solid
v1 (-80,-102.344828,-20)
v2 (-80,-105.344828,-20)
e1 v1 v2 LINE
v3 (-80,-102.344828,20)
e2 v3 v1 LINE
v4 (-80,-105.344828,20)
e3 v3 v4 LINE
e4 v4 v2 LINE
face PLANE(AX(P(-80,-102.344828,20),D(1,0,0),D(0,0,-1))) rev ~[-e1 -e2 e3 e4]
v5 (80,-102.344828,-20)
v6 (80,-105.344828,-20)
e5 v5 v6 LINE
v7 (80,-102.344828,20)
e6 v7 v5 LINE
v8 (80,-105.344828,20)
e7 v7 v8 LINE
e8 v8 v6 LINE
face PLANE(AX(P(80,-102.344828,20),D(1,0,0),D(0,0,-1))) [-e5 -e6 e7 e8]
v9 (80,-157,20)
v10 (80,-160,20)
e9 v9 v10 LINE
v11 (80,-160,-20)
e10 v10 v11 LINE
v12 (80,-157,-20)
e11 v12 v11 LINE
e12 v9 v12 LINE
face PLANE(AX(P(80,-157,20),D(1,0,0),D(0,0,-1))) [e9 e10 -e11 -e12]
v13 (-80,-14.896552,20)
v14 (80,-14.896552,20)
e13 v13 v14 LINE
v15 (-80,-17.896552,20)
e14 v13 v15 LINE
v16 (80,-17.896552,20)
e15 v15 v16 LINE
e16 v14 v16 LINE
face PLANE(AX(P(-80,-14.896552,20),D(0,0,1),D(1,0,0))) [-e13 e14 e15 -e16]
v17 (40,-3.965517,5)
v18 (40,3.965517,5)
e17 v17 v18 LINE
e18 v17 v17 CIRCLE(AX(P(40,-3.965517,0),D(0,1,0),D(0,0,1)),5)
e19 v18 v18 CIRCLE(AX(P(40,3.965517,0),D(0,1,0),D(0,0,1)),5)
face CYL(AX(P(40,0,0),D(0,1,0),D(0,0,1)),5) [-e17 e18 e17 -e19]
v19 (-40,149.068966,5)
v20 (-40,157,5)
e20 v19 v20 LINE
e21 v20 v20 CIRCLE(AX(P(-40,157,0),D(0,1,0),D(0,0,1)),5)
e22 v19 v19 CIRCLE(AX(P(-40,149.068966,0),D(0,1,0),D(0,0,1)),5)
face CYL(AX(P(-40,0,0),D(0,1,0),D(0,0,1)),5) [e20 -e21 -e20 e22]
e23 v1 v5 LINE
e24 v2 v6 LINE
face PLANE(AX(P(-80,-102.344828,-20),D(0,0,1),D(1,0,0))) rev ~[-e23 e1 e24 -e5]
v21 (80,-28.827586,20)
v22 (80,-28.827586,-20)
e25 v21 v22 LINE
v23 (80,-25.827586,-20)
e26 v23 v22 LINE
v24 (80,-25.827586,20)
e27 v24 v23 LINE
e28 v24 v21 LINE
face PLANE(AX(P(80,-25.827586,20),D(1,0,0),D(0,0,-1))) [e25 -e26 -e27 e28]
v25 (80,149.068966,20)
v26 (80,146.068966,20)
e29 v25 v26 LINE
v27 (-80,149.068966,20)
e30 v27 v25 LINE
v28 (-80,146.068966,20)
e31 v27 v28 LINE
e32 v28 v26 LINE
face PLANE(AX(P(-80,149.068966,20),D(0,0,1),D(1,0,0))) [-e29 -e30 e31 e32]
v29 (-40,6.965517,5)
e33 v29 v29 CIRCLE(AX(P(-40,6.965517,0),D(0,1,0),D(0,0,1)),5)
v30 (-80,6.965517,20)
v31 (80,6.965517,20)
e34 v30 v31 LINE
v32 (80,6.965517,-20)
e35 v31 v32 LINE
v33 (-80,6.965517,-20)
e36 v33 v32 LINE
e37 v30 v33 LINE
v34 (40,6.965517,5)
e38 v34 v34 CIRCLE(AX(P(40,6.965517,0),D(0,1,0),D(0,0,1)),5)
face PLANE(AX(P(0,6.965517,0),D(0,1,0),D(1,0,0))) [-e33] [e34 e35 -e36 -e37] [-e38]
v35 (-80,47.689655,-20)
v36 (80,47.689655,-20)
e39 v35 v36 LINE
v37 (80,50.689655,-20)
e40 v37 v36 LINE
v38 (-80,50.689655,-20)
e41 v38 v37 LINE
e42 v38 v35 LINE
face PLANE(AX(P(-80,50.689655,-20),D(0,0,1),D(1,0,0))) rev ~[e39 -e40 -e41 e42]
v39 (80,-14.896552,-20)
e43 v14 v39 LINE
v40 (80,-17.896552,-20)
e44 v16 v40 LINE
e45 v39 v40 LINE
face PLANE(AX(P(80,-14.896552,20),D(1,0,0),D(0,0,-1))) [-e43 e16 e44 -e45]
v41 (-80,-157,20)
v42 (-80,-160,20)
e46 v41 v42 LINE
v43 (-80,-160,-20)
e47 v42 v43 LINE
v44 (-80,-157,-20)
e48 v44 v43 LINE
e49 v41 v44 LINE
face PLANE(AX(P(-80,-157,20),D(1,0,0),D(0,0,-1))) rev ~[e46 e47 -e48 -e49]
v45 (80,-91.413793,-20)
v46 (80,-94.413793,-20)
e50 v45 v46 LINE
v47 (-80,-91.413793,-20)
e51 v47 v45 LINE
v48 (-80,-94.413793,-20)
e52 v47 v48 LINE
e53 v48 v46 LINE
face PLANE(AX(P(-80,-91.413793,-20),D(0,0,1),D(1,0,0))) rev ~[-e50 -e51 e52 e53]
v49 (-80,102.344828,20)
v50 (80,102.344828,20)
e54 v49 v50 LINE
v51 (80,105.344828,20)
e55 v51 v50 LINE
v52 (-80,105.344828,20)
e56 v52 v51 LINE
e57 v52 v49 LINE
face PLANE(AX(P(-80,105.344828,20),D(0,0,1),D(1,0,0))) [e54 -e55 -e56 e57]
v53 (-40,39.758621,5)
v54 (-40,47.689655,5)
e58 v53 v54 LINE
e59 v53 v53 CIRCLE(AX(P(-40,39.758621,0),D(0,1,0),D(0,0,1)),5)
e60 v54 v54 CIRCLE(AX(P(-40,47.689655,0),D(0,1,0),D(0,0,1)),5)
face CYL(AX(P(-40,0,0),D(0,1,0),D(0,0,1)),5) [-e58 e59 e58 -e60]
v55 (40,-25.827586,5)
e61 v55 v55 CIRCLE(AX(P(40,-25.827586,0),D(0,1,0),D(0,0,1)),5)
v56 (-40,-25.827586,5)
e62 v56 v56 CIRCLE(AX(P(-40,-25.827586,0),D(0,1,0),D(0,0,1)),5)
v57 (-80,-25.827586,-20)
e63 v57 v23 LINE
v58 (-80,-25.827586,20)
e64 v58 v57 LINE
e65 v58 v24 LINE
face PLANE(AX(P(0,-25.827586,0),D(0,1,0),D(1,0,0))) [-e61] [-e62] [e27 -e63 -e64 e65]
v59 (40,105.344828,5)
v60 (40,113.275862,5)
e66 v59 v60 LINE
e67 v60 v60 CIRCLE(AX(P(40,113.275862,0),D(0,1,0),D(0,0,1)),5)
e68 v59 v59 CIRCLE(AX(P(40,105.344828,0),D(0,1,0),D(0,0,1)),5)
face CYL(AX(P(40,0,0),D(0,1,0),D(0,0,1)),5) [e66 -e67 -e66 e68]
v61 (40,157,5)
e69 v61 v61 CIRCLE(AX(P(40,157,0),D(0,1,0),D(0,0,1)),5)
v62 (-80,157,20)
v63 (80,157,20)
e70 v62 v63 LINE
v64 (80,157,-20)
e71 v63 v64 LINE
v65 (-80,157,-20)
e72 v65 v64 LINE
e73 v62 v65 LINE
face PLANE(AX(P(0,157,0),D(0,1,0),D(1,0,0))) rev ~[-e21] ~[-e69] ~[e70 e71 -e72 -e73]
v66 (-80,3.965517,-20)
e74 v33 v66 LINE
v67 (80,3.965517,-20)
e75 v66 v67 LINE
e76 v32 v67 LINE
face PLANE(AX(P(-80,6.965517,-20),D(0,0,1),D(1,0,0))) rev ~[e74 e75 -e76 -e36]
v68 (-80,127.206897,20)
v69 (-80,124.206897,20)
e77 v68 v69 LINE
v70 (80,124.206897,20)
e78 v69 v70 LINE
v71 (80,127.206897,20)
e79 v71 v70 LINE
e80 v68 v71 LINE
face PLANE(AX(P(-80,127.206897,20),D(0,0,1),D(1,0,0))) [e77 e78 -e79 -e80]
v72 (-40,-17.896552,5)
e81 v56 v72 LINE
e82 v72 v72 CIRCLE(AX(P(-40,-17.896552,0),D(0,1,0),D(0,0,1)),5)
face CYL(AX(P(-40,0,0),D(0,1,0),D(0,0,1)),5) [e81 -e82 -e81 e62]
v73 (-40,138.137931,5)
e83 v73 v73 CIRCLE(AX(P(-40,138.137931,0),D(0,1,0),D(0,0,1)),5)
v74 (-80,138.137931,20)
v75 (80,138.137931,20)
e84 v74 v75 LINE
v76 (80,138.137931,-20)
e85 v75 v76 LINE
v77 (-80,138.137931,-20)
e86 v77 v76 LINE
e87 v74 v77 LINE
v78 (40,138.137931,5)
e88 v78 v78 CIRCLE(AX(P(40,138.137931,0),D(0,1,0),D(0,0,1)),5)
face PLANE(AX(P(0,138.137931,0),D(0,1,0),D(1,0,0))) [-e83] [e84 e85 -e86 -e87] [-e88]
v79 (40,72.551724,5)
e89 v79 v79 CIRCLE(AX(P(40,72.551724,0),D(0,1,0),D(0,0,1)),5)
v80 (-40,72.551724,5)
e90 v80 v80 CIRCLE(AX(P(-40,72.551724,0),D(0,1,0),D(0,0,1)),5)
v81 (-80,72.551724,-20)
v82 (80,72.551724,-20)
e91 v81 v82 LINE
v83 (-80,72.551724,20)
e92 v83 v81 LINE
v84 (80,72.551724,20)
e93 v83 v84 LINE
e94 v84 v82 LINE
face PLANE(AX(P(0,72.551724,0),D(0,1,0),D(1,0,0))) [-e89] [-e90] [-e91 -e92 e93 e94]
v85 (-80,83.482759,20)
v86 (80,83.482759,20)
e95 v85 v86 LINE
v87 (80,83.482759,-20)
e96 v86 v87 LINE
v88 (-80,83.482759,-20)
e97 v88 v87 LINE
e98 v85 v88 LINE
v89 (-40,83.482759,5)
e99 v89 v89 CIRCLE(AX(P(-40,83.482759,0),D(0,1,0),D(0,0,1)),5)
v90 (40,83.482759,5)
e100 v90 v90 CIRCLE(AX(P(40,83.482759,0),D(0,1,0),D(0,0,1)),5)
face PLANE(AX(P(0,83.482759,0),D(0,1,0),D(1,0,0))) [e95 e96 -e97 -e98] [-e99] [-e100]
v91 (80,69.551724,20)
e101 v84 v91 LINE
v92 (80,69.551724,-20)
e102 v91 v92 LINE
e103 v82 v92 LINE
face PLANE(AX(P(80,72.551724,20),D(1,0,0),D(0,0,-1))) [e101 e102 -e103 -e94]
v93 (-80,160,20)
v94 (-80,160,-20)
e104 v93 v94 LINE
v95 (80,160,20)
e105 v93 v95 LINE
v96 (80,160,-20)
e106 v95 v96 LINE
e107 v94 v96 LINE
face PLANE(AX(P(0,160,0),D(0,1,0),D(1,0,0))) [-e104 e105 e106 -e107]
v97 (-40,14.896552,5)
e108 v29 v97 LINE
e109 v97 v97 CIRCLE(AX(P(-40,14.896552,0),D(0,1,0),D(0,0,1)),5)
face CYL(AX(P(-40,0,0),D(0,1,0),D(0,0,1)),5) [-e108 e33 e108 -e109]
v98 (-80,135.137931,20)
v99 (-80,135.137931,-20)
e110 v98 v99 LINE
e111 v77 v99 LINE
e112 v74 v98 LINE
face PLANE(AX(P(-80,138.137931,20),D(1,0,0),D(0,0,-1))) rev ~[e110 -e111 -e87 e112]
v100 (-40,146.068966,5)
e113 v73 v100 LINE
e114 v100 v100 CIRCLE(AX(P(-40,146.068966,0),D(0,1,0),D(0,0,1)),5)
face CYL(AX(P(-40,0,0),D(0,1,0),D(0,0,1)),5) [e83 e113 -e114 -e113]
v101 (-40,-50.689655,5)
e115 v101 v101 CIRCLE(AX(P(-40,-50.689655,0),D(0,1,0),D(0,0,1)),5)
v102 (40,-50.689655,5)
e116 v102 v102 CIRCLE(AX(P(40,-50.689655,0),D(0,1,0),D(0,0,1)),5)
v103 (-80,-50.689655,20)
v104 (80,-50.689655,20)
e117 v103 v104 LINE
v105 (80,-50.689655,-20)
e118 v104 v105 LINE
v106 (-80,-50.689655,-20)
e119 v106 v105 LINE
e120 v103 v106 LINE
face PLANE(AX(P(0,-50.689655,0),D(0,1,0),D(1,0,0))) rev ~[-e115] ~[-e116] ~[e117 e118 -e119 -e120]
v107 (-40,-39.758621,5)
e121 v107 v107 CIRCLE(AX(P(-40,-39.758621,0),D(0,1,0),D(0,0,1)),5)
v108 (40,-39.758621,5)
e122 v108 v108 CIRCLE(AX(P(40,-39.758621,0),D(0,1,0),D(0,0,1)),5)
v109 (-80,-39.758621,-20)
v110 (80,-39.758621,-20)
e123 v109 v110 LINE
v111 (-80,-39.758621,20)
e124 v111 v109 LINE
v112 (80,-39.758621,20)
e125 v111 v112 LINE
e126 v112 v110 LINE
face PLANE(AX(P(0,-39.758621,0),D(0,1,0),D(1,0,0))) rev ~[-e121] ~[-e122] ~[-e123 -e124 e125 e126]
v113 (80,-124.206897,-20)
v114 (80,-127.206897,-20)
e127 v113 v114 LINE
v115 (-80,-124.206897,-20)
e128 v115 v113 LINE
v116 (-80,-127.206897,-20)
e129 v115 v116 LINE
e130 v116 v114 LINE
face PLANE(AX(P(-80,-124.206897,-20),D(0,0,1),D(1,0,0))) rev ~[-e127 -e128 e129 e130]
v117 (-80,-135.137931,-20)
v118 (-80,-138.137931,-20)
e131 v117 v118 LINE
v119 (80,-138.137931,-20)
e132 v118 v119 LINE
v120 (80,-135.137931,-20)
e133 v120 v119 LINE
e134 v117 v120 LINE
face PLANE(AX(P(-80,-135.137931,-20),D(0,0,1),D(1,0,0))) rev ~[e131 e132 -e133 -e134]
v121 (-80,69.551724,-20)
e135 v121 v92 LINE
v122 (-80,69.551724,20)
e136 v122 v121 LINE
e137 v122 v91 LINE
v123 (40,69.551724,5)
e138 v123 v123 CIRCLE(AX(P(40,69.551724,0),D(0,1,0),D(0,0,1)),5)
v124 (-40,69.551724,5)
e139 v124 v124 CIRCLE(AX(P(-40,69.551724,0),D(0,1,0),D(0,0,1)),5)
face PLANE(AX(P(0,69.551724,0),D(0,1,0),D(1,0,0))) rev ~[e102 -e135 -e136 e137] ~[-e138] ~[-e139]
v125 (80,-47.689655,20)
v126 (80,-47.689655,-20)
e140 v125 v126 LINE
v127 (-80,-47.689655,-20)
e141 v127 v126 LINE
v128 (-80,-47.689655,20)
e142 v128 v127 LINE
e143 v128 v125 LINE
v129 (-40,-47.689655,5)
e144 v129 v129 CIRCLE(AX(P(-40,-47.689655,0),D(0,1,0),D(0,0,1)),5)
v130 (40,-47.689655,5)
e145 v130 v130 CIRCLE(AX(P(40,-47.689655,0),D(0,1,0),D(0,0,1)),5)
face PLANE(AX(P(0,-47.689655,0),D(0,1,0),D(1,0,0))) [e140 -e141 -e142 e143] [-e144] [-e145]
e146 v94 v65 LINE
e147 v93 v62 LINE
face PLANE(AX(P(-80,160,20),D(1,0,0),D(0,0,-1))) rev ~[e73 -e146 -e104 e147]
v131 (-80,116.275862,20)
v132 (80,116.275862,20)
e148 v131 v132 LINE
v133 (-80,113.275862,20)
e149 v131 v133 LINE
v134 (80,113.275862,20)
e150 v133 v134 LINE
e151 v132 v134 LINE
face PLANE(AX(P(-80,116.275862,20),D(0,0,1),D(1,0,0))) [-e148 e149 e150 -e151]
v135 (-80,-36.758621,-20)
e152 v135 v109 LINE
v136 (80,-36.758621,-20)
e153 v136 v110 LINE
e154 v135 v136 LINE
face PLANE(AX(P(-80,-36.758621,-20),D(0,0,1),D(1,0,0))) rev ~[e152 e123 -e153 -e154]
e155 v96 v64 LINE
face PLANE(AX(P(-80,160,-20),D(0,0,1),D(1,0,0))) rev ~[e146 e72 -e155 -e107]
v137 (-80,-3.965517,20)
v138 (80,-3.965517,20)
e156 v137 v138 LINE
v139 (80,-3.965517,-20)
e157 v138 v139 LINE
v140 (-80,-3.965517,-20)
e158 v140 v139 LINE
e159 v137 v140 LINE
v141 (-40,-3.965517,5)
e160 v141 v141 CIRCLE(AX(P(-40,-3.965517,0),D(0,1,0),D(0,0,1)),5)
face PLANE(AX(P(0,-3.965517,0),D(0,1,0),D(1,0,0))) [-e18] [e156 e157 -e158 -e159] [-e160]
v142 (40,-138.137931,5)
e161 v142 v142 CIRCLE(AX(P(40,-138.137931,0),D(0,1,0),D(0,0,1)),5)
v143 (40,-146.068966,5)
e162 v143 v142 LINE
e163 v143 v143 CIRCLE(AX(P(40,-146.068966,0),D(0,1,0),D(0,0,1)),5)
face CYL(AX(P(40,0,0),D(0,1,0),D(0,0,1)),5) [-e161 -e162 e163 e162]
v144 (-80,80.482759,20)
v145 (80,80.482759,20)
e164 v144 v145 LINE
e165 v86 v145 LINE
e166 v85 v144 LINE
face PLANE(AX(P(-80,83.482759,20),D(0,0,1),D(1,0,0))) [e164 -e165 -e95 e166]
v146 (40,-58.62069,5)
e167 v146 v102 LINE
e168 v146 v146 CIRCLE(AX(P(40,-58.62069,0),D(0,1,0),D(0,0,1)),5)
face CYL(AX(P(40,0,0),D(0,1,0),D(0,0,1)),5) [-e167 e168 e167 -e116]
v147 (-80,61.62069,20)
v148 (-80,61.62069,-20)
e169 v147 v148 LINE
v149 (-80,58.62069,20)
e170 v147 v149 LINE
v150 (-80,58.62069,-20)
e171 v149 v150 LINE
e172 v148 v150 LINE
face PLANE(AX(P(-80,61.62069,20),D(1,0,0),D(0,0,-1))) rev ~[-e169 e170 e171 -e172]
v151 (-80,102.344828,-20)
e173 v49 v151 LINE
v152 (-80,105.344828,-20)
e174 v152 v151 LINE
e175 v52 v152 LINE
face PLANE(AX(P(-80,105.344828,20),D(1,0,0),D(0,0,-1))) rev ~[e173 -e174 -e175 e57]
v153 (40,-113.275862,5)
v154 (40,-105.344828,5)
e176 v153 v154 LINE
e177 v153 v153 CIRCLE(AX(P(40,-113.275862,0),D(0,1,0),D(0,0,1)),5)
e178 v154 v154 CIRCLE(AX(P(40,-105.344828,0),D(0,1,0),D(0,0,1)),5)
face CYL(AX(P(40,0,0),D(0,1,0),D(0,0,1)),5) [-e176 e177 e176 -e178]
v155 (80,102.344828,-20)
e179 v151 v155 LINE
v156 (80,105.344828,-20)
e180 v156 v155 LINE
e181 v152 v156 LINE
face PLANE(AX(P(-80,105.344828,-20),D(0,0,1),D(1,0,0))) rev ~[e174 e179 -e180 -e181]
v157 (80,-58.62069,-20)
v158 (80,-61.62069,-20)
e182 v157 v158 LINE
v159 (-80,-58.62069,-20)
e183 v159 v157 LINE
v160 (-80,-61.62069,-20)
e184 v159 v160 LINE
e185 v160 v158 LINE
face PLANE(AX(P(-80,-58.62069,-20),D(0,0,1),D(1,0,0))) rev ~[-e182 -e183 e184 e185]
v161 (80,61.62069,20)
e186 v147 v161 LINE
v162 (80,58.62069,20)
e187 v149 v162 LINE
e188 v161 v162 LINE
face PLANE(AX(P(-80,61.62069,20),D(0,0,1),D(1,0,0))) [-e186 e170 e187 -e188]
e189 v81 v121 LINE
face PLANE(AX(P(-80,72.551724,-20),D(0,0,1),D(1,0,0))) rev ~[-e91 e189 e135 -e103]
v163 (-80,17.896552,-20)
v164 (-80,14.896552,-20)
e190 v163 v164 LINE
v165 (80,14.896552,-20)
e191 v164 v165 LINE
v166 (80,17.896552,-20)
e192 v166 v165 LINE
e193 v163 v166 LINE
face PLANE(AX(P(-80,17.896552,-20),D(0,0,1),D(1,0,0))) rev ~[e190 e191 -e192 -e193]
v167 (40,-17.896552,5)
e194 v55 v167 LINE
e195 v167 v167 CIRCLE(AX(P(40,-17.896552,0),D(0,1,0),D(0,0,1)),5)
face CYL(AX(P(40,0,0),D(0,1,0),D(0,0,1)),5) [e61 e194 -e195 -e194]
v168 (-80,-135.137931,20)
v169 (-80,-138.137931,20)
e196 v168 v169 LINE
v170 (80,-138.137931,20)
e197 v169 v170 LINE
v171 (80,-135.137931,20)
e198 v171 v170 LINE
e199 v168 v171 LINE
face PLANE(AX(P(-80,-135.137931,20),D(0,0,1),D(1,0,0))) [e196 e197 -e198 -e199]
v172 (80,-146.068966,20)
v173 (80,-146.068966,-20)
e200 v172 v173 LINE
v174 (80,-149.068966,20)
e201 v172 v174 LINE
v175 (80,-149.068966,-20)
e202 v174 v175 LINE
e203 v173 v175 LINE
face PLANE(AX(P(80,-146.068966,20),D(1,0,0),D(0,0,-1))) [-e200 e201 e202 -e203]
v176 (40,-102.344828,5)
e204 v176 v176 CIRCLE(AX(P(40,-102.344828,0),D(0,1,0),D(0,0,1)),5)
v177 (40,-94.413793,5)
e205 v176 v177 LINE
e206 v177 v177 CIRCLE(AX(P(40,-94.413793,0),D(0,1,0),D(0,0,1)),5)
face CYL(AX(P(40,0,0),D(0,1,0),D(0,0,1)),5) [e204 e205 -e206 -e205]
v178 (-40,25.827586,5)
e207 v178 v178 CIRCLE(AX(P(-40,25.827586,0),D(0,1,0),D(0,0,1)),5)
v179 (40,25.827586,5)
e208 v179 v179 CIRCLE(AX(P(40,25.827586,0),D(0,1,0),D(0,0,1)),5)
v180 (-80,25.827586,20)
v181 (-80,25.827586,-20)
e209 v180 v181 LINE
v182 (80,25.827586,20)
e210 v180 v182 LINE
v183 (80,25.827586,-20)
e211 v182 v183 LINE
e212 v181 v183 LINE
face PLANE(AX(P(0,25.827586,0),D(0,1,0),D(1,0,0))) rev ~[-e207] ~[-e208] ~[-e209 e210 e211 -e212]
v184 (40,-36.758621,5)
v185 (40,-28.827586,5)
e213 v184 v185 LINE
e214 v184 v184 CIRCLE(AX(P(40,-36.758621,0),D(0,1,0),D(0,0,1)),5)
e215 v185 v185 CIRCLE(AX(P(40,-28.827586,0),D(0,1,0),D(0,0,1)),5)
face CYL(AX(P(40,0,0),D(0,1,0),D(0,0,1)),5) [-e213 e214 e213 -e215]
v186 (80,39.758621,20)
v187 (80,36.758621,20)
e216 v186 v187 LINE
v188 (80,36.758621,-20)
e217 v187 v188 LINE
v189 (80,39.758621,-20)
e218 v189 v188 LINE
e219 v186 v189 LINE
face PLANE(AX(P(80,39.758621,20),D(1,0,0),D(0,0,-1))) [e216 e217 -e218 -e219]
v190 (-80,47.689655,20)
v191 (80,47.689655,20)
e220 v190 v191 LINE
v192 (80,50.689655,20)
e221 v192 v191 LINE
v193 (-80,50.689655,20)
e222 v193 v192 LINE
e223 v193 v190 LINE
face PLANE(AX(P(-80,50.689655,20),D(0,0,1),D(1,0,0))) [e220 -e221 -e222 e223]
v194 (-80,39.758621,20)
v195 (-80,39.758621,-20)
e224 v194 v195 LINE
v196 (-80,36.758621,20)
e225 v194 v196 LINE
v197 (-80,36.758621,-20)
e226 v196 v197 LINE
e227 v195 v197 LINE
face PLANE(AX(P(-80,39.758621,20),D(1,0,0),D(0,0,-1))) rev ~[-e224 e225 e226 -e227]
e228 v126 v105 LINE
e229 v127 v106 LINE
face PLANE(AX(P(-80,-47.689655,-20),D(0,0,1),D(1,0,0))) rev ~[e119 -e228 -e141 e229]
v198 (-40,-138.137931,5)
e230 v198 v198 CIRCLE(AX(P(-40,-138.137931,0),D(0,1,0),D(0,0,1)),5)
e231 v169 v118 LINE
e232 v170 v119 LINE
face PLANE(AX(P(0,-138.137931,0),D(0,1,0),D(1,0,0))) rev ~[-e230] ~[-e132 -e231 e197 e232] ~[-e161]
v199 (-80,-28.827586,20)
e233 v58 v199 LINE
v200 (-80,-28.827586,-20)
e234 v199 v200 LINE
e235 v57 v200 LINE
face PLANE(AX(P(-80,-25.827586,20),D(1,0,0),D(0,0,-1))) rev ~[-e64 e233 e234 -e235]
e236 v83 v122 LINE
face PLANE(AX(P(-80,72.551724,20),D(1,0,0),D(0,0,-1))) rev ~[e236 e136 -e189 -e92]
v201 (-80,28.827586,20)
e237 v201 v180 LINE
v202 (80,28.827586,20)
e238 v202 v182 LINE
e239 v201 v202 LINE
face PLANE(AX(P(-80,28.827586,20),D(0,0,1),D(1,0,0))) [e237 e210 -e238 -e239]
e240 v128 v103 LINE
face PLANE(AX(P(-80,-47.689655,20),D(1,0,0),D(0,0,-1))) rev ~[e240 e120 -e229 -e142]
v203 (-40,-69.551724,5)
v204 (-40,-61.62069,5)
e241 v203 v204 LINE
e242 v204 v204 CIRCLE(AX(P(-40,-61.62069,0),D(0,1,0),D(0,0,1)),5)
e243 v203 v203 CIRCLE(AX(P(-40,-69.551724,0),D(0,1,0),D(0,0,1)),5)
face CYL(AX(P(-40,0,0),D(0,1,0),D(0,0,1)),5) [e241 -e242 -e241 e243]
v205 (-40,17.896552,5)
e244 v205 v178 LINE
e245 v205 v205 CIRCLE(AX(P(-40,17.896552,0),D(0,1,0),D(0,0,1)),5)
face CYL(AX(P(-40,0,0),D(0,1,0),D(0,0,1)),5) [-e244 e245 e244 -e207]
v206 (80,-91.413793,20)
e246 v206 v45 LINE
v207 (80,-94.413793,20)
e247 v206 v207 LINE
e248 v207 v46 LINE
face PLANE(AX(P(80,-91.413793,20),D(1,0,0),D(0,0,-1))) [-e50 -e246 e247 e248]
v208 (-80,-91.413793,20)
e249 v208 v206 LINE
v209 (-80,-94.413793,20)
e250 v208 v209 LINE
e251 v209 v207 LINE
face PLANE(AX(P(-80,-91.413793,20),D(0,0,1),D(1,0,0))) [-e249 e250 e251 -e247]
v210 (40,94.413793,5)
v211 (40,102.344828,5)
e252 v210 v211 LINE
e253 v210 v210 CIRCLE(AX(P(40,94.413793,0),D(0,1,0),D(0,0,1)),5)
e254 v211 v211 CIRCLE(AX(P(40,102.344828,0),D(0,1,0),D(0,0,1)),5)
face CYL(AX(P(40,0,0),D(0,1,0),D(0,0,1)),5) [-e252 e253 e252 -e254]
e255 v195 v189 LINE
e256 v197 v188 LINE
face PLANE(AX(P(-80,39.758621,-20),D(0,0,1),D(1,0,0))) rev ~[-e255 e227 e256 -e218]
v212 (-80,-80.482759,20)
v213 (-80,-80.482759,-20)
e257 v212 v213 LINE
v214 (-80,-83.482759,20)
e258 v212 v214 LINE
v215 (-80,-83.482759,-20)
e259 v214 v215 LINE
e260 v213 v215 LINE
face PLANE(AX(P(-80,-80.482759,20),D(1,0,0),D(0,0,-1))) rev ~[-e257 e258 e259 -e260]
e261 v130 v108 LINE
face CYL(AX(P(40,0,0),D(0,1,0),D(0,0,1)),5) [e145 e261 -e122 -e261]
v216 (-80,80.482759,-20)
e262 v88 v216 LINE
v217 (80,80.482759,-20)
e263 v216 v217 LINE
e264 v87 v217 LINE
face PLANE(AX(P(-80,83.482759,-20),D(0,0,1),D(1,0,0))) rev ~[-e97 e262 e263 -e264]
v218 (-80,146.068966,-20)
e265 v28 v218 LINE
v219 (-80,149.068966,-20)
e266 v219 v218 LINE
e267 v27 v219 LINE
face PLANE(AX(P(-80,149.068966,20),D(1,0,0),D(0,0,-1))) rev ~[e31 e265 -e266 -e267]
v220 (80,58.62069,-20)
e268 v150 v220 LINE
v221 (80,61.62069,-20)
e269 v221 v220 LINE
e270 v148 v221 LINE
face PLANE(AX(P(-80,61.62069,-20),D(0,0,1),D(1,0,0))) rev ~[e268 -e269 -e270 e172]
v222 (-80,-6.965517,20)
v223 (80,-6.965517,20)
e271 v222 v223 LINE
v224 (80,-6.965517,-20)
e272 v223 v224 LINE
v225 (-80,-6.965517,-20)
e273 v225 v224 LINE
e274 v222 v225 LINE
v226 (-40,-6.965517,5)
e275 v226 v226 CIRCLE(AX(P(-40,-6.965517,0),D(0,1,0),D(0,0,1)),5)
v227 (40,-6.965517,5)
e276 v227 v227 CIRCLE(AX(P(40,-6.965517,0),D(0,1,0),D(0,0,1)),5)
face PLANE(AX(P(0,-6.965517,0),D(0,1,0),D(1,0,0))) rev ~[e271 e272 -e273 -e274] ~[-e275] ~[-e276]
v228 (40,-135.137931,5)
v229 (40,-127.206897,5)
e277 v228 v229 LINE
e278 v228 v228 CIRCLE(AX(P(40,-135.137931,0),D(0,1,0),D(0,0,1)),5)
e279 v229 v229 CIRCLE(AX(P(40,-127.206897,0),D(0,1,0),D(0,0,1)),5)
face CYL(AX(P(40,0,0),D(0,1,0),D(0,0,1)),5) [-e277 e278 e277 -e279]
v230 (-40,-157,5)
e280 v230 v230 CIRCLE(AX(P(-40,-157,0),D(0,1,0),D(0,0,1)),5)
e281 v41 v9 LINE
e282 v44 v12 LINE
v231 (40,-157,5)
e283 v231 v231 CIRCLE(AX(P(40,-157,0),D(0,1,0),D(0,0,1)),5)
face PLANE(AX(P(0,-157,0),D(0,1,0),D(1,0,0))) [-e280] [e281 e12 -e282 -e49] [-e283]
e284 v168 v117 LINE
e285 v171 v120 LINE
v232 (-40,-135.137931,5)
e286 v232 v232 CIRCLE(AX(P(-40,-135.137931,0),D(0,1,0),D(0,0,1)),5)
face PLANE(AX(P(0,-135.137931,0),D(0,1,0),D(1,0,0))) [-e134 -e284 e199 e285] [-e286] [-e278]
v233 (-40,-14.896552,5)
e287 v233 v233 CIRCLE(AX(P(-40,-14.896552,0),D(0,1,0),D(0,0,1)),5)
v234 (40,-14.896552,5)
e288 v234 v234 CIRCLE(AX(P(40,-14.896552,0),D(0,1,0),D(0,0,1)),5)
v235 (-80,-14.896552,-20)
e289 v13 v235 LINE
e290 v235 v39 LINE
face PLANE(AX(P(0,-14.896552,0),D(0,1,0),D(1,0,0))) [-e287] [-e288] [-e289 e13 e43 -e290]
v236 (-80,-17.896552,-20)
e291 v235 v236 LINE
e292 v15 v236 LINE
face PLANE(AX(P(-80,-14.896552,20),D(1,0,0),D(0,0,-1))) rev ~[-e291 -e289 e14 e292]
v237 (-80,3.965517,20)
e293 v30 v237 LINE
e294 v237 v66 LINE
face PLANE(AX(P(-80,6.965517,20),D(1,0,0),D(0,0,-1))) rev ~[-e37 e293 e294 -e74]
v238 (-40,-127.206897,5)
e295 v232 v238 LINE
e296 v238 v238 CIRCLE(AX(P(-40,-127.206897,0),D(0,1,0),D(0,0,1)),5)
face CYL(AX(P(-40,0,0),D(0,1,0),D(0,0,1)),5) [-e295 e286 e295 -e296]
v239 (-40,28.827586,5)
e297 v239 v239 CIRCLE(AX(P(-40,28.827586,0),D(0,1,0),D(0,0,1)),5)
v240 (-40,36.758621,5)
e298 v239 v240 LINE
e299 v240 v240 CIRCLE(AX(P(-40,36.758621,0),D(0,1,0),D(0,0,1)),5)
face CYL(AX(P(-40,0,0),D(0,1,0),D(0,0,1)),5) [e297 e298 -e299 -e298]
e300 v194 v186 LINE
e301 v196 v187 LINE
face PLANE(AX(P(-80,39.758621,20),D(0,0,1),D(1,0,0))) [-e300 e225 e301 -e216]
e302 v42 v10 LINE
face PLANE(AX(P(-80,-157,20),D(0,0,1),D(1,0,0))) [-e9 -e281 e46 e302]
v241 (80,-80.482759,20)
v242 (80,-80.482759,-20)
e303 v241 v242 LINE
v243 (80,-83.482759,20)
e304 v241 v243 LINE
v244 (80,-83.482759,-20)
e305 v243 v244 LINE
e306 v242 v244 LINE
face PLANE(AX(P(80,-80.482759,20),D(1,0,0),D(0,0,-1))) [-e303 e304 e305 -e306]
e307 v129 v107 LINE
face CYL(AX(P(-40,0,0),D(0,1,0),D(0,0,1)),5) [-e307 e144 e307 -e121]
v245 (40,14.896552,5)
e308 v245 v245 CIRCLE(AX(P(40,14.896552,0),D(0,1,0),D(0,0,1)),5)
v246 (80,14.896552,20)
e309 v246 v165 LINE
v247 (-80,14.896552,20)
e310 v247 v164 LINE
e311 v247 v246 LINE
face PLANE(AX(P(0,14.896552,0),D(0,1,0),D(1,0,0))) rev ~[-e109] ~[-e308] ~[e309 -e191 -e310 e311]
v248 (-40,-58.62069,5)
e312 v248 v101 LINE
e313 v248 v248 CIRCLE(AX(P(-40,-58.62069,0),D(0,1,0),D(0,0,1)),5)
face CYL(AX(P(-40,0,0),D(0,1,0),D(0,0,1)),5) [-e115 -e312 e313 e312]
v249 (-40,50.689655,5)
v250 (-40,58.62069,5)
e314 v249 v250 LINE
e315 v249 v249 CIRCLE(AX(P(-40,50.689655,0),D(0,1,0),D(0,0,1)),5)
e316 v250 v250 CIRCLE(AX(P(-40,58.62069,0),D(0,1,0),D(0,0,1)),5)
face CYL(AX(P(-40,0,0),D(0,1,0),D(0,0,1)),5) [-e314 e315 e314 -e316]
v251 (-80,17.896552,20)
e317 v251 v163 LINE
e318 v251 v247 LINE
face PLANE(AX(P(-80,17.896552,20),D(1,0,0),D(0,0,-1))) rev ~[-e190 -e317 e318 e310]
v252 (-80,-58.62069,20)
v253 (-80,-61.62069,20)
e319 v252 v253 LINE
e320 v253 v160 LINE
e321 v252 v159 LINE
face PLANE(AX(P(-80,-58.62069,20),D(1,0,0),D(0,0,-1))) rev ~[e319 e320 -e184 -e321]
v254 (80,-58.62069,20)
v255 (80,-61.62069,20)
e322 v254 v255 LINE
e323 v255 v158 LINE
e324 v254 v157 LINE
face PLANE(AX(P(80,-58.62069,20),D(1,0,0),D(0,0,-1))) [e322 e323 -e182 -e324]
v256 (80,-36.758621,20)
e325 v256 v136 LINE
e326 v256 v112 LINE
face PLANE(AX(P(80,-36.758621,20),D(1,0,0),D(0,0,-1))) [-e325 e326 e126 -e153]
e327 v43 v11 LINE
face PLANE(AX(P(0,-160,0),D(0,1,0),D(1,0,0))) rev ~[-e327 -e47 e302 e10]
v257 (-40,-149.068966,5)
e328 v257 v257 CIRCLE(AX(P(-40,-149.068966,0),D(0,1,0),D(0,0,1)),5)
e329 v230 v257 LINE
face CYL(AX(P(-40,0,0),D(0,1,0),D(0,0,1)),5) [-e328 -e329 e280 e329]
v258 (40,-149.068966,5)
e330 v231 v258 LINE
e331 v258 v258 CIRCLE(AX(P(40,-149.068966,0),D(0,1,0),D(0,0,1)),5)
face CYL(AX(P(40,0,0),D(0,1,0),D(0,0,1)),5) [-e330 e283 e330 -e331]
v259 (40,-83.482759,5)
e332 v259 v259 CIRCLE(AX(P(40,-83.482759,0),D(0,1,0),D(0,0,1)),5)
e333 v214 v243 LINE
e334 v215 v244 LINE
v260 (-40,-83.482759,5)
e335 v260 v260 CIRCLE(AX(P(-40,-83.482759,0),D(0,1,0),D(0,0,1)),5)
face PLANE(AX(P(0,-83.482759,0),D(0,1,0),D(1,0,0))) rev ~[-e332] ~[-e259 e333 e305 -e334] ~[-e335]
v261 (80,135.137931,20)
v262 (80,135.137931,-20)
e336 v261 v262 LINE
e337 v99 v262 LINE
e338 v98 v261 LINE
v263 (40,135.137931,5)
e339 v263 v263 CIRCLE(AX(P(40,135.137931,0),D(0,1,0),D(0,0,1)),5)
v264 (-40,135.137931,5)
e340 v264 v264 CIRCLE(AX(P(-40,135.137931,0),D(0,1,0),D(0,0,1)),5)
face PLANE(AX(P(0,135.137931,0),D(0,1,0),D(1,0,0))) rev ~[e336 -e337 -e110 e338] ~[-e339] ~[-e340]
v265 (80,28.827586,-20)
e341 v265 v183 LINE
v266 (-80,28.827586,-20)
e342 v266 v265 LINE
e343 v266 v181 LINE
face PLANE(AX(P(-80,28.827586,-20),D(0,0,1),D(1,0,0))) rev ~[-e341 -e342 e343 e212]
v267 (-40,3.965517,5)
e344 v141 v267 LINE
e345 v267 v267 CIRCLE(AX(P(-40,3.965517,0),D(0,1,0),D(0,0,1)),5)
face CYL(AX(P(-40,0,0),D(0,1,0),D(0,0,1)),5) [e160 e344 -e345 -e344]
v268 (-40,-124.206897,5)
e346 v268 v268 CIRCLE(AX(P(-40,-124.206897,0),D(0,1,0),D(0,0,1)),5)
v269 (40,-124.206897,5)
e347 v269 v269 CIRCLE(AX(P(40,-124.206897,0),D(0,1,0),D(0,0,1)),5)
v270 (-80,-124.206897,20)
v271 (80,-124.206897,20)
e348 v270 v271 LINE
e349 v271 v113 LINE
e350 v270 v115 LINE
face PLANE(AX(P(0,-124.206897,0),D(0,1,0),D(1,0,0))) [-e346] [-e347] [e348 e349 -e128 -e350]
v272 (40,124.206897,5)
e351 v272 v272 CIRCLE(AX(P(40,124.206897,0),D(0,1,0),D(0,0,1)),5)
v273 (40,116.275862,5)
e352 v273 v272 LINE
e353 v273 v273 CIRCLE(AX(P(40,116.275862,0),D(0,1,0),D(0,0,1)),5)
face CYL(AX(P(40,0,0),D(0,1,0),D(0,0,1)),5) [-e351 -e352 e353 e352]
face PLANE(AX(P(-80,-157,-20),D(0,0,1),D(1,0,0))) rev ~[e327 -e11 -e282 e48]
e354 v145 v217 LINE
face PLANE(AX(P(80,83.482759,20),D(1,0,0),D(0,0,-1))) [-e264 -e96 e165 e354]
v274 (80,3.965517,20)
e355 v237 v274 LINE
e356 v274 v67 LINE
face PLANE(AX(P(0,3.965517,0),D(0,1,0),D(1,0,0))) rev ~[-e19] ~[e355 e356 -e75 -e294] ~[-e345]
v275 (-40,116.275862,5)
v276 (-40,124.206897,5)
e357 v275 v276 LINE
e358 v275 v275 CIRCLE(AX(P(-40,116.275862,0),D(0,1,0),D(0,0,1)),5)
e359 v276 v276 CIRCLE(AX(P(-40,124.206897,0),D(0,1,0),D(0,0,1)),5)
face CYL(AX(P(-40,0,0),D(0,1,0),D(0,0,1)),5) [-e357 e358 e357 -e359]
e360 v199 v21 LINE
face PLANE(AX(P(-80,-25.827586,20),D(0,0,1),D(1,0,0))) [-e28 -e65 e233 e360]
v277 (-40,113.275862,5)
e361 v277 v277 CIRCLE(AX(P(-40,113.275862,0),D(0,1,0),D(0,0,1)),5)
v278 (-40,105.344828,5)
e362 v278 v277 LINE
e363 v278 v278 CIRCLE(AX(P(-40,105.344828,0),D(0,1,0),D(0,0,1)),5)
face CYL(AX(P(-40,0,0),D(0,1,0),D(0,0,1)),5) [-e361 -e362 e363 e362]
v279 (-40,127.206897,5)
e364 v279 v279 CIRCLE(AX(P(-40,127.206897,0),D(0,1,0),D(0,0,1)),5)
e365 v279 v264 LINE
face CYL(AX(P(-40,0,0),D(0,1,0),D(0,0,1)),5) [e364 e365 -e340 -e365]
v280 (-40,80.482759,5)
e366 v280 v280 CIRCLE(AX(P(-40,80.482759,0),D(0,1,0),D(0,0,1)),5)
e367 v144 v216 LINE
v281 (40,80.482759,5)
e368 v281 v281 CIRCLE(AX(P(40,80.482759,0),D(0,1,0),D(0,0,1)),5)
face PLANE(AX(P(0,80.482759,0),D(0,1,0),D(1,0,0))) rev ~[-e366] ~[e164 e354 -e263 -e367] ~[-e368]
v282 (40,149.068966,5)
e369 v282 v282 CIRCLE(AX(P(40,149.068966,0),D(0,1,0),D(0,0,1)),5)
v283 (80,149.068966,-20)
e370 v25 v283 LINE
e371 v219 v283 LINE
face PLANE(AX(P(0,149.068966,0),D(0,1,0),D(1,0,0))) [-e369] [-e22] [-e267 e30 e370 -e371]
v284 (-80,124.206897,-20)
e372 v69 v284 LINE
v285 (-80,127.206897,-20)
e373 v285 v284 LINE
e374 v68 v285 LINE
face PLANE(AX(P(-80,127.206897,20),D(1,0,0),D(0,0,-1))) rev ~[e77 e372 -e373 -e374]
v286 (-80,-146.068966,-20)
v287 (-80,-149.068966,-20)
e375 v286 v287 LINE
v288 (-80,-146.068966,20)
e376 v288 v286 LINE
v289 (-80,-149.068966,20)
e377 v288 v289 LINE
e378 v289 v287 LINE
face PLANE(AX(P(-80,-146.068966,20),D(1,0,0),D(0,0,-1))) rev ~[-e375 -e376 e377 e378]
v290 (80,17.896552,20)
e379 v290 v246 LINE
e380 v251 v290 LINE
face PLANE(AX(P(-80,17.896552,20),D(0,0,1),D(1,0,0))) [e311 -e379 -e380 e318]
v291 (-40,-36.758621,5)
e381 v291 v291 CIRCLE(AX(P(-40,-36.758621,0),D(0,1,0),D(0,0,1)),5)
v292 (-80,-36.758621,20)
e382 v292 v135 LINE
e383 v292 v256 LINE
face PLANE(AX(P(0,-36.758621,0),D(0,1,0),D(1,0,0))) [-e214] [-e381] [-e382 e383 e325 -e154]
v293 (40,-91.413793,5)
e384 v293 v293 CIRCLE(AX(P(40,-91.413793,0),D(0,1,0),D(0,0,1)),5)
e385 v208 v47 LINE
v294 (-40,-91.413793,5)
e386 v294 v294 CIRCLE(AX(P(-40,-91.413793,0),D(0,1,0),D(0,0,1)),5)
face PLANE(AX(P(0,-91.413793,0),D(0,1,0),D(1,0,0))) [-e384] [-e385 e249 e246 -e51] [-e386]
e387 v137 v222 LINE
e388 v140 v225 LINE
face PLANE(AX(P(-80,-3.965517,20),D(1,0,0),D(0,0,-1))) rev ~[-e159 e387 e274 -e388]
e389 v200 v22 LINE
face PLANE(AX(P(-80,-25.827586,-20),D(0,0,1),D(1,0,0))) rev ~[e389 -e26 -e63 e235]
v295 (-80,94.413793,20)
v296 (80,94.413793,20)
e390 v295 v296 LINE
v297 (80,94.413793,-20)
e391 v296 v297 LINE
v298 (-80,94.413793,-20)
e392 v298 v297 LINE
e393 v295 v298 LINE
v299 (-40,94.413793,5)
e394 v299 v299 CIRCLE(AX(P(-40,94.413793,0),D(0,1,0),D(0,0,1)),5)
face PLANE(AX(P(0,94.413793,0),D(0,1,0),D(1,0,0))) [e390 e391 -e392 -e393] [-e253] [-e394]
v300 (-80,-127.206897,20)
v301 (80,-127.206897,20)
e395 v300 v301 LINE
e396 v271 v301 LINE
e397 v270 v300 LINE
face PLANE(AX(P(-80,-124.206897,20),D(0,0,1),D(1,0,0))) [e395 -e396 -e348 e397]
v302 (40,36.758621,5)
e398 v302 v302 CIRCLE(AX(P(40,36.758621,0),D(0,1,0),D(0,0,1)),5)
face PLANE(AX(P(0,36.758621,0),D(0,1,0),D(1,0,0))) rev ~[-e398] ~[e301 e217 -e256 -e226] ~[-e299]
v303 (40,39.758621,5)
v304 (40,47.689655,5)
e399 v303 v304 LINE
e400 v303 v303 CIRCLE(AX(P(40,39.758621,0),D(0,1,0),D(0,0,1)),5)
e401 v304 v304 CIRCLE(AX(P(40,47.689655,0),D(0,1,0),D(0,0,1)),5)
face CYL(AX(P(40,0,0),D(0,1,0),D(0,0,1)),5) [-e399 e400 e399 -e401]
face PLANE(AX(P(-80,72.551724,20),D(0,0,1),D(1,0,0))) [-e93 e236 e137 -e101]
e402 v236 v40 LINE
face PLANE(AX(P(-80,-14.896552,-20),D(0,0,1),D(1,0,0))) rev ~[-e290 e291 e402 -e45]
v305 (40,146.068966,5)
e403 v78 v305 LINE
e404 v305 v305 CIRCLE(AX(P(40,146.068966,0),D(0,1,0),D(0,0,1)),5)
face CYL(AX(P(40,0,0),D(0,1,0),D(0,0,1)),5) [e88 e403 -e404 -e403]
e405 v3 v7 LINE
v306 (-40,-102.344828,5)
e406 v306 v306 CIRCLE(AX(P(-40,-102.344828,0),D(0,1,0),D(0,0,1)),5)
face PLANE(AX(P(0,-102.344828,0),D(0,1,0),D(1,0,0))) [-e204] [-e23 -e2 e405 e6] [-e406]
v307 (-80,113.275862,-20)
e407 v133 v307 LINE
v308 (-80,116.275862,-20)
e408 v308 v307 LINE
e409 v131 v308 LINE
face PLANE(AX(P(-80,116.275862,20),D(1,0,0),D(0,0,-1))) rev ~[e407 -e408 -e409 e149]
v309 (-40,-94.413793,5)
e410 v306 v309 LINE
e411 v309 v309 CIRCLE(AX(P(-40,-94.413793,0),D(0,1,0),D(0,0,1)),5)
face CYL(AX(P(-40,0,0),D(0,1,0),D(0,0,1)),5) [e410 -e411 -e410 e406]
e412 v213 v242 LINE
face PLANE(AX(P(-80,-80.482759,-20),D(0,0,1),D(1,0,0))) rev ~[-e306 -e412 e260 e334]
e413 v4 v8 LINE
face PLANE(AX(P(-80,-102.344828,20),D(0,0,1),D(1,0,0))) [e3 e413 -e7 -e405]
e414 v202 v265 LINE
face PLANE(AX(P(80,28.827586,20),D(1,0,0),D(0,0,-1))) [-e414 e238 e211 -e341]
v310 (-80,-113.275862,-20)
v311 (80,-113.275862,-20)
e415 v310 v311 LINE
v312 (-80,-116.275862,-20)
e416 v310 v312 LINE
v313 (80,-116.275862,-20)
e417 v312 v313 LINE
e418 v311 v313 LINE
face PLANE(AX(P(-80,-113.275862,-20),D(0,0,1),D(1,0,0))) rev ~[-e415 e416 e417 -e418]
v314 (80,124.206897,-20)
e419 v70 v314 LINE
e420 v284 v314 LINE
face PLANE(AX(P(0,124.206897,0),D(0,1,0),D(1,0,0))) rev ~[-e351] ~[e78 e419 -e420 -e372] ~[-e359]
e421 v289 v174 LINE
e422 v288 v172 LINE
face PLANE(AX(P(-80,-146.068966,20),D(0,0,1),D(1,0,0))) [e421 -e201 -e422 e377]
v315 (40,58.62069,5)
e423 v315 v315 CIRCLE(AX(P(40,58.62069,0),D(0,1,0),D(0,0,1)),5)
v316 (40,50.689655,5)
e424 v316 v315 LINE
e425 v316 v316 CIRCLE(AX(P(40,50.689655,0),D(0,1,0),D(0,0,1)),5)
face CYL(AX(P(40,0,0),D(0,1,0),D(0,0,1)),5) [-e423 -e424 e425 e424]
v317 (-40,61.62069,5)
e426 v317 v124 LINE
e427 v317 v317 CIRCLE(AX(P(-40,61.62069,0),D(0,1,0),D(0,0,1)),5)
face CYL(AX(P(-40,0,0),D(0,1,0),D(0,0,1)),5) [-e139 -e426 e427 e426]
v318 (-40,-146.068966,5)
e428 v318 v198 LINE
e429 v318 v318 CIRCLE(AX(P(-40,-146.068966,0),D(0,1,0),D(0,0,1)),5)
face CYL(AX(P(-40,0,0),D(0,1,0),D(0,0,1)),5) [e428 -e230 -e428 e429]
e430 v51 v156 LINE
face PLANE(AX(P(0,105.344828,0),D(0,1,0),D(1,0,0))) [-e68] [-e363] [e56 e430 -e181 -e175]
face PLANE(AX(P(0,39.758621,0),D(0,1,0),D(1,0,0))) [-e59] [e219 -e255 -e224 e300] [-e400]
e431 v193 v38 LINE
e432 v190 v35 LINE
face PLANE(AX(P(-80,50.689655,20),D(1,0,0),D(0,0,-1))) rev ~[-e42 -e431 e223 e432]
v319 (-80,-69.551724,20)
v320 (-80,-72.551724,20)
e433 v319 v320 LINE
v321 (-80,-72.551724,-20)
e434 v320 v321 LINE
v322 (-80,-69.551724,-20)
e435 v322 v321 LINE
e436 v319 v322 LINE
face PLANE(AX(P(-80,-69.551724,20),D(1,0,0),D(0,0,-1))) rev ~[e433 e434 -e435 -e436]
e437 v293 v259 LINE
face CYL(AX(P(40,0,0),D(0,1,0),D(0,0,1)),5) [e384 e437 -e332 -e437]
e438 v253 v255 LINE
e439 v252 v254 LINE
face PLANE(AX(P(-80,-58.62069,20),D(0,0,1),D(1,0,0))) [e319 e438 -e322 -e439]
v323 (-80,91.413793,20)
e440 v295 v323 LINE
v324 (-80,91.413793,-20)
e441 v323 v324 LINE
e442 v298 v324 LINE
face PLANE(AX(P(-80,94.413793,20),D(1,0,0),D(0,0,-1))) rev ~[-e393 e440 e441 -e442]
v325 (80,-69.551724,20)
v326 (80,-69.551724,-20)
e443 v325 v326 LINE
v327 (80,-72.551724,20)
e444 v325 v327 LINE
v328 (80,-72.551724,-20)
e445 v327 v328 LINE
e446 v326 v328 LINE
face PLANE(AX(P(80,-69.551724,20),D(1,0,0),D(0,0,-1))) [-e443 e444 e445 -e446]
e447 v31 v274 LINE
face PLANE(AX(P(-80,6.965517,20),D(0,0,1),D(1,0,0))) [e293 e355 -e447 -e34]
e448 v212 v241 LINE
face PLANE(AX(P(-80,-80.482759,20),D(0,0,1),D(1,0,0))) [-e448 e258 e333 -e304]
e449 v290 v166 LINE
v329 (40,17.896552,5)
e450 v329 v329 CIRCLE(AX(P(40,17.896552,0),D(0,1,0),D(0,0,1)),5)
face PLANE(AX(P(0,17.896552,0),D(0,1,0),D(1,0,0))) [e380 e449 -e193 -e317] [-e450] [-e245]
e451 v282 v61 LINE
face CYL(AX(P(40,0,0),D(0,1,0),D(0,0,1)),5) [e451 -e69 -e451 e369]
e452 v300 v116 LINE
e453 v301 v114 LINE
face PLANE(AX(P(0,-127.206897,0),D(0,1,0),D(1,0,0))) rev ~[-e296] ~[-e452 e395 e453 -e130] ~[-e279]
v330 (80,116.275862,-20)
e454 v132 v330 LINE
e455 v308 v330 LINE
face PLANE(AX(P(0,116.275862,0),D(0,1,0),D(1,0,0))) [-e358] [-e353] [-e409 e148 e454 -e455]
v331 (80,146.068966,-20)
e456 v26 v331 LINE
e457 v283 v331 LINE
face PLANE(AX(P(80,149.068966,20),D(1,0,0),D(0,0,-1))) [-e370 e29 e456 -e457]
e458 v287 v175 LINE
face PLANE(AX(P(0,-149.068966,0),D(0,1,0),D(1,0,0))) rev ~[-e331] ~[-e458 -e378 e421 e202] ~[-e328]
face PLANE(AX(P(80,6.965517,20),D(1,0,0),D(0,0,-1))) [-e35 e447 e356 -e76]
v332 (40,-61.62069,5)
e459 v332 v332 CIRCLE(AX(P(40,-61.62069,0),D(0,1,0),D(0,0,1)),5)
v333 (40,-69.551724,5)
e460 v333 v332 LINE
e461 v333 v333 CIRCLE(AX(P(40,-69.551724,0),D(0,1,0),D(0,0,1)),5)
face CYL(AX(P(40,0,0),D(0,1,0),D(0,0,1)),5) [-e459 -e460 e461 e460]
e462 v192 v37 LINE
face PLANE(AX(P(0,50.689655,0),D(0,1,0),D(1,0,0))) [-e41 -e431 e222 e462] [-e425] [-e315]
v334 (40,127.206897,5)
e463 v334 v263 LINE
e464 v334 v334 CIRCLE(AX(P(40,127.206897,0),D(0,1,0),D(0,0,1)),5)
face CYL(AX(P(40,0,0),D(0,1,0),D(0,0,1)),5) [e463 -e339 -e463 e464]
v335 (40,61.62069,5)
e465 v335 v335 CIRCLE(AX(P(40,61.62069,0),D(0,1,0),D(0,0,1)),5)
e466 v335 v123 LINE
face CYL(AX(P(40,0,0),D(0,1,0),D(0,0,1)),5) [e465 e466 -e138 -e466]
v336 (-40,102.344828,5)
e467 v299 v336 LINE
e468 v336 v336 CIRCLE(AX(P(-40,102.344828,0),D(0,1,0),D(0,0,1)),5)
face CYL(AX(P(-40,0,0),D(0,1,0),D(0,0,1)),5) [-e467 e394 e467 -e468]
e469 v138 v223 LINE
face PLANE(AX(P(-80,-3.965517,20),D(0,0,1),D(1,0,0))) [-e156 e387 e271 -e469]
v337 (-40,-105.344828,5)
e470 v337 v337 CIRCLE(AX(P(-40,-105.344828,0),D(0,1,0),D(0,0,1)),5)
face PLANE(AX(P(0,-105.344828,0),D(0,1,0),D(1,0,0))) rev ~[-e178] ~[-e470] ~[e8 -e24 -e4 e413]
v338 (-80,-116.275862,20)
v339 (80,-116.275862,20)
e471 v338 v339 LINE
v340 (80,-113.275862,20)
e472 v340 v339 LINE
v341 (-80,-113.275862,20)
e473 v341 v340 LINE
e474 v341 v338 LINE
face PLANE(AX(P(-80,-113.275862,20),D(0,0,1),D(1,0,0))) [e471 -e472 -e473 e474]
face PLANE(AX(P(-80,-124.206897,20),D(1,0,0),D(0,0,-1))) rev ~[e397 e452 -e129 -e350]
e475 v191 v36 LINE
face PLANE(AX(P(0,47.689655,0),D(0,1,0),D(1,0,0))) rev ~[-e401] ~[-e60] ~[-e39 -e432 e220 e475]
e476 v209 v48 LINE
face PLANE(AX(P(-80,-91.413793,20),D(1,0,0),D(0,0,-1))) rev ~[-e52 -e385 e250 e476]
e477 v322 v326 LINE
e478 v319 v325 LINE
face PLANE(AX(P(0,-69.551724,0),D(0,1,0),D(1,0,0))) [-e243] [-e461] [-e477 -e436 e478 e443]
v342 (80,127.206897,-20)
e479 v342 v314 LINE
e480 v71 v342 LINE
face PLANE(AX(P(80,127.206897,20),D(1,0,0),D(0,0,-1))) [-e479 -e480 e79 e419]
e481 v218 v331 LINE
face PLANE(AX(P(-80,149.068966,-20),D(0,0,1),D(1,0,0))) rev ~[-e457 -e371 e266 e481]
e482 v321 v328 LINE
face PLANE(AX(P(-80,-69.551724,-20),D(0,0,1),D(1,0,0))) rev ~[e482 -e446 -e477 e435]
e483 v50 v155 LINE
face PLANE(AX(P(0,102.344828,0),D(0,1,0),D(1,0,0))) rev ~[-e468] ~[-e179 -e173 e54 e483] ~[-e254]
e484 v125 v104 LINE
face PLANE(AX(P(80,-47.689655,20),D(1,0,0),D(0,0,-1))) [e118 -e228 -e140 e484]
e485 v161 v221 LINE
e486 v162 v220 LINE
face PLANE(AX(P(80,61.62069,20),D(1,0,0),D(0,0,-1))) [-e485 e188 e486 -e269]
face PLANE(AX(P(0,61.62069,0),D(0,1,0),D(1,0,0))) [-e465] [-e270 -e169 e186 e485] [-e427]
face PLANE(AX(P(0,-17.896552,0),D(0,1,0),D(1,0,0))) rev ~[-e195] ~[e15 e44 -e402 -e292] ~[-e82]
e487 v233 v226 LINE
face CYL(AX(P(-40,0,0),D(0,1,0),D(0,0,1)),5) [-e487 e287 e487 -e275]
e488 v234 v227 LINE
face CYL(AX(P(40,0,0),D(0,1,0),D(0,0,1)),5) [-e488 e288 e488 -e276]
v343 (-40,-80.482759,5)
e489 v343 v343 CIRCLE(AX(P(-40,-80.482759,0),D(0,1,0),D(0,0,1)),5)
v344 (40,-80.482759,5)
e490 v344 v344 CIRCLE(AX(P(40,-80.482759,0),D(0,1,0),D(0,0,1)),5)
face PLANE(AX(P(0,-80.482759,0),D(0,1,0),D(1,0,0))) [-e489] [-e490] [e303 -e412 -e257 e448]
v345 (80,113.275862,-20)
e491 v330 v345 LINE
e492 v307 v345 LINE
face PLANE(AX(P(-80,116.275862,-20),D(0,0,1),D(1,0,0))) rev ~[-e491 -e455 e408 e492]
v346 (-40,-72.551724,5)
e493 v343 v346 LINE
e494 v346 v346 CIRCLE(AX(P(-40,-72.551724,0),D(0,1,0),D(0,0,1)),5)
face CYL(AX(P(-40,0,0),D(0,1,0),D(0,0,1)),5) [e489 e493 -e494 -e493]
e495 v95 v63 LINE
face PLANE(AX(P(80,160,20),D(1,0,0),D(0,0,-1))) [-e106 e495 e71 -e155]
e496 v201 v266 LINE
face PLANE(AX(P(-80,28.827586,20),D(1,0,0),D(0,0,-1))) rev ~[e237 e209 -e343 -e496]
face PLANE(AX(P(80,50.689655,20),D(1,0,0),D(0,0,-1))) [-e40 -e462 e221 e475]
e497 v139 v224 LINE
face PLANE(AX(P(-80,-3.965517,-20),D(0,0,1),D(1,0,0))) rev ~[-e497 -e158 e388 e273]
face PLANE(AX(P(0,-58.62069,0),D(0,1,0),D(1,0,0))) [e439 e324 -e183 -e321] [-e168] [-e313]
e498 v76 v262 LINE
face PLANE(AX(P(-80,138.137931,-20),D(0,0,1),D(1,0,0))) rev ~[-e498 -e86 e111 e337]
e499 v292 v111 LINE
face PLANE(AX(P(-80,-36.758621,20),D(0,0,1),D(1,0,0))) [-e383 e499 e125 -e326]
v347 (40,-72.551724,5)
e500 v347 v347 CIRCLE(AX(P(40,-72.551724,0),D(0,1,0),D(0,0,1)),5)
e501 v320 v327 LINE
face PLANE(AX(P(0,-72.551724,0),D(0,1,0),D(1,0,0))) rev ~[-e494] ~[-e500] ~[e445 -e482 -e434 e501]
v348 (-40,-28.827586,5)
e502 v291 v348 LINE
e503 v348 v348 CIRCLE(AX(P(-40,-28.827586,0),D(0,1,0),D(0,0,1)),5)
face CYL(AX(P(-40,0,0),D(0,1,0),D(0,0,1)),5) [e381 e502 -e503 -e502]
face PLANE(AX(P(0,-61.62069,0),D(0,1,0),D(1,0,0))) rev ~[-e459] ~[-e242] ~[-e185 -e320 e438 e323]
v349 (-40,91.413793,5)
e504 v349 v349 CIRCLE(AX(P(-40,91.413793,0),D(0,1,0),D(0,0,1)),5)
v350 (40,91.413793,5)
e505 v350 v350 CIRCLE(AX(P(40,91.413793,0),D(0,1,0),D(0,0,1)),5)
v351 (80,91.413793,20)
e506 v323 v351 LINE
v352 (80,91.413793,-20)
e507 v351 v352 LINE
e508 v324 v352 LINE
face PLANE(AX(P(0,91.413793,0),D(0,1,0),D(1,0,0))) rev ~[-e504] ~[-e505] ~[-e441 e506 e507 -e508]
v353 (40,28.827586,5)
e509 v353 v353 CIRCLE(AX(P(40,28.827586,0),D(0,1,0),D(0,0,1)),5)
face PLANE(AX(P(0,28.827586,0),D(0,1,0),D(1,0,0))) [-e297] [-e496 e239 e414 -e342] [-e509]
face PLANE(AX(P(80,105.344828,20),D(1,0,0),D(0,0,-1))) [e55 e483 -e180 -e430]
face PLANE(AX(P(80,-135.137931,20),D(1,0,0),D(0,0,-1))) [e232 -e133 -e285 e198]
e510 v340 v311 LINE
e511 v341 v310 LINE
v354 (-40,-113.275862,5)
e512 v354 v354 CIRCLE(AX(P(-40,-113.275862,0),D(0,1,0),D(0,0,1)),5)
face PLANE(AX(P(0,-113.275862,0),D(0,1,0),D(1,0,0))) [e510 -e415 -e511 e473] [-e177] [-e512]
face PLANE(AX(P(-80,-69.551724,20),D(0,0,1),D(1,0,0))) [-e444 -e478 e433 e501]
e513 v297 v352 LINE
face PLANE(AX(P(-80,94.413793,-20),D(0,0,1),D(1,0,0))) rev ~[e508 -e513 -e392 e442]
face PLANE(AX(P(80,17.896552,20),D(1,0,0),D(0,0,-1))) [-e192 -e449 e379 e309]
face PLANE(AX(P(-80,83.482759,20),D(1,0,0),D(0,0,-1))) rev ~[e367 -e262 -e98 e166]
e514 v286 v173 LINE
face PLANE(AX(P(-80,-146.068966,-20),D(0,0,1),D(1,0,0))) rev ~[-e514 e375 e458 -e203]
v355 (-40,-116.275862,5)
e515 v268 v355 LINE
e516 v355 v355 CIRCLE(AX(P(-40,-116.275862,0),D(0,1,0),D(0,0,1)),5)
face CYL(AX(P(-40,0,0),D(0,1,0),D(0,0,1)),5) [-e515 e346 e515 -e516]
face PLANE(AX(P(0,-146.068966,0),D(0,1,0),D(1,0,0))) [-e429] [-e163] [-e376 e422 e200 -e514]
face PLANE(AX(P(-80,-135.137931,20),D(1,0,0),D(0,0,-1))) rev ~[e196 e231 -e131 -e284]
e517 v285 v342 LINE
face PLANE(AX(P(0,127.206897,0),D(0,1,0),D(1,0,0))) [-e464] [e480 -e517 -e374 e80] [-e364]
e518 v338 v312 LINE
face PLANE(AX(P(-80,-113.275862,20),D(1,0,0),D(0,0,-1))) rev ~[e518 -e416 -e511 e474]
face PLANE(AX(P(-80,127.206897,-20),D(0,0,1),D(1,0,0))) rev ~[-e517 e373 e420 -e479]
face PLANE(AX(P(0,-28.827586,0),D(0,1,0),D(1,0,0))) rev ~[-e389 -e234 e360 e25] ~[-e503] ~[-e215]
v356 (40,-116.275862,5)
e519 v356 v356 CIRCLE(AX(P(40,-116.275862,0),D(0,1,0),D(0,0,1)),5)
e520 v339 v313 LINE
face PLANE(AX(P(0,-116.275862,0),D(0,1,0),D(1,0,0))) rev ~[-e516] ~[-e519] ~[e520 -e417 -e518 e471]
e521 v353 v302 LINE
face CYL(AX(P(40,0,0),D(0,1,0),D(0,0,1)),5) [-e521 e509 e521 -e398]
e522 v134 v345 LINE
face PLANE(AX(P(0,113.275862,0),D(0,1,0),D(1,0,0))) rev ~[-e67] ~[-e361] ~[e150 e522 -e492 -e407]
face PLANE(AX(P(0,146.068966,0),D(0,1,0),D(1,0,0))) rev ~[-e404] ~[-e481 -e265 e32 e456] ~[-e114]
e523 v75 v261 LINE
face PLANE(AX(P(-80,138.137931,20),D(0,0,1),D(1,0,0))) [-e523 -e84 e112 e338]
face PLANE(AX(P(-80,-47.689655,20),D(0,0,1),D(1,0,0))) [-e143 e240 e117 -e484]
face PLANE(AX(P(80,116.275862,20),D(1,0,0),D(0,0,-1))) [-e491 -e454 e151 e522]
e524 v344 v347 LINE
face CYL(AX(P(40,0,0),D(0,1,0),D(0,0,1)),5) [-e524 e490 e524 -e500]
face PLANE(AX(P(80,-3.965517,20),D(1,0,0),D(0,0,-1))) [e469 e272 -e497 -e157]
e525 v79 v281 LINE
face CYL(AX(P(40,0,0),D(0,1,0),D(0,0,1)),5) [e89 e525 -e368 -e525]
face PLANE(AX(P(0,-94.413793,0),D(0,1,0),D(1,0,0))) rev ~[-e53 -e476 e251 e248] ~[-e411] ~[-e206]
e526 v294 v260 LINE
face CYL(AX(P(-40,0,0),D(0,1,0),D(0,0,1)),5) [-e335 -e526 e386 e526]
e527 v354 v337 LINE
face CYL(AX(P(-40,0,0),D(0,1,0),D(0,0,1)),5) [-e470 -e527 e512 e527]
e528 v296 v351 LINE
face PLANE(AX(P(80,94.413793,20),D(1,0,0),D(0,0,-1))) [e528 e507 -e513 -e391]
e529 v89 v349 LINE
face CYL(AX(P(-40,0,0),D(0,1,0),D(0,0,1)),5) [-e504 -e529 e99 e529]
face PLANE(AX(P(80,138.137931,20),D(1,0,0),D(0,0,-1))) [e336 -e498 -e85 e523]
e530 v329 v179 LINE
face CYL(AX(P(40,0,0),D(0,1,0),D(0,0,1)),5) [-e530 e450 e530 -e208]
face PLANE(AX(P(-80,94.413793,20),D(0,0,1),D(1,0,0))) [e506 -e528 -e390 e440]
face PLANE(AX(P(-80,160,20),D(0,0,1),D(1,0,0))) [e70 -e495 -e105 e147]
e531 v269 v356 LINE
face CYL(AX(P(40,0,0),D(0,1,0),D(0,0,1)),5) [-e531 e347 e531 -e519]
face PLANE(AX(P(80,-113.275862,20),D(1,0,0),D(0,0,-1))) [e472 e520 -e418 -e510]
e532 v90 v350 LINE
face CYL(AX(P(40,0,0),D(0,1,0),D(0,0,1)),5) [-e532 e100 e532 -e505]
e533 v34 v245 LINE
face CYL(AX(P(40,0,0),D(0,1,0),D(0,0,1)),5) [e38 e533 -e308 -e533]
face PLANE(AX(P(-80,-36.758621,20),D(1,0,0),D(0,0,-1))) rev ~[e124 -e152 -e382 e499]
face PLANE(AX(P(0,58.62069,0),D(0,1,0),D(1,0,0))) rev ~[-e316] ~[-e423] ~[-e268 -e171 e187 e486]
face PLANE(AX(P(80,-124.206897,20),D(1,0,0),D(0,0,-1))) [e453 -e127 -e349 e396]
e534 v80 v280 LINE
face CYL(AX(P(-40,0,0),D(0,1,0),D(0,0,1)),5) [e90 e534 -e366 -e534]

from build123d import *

# Parameters (mm, degrees)
SKETCH14_R            = 5
BOSS_EXTRUDE1_DEPTH   = 160
BOSS_EXTRUDE1_2_DEPTH = 160
SKETCH15_W            = 160
SKETCH15_H            = 40
BOSS_EXTRUDE2_DEPTH   = 3
LPATTERN1_COUNT       = 30
LPATTERN1_PITCH       = 10.931034483


with BuildPart() as part:
    # Sketch14 → Boss-Extrude1 (new, symmetric)
    with BuildSketch(Plane(origin=(0, 0, 0), x_dir=(1, 0, 0), z_dir=(0, 1, 0))):
        with Locations(Location((-40, 0, 0), (0, 0, 270))):
            Circle(SKETCH14_R)
    extrude(amount=BOSS_EXTRUDE1_DEPTH, both=True)



with BuildPart() as body_2:
    # Sketch14 → Boss-Extrude1 2 (new, symmetric)
    with BuildSketch(Plane(origin=(0, 0, 0), x_dir=(1, 0, 0), z_dir=(0, 1, 0))):
        with Locations(Location((40, 0, 0), (0, 0, 270))):
            Circle(SKETCH14_R)
    extrude(amount=BOSS_EXTRUDE1_2_DEPTH, both=True)


with BuildPart() as part_1:
    add(part.part)

    add(body_2.part)  # Boss-Extrude2 merges body 2
    # Sketch15 → Boss-Extrude2 (add)
    with BuildSketch(Plane(origin=(0, 160, 0), x_dir=(1, 0, 0), z_dir=(0, 1, 0))):
        Rectangle(SKETCH15_W, SKETCH15_H)
    boss_extrude2 = extrude(amount=-BOSS_EXTRUDE2_DEPTH)

    # LPattern1: Boss-Extrude2 ×30
    with Locations(*[(0, -i * LPATTERN1_PITCH, 0) for i in range(1, LPATTERN1_COUNT)]):
        add(boss_extrude2)


solid = part_1.part
